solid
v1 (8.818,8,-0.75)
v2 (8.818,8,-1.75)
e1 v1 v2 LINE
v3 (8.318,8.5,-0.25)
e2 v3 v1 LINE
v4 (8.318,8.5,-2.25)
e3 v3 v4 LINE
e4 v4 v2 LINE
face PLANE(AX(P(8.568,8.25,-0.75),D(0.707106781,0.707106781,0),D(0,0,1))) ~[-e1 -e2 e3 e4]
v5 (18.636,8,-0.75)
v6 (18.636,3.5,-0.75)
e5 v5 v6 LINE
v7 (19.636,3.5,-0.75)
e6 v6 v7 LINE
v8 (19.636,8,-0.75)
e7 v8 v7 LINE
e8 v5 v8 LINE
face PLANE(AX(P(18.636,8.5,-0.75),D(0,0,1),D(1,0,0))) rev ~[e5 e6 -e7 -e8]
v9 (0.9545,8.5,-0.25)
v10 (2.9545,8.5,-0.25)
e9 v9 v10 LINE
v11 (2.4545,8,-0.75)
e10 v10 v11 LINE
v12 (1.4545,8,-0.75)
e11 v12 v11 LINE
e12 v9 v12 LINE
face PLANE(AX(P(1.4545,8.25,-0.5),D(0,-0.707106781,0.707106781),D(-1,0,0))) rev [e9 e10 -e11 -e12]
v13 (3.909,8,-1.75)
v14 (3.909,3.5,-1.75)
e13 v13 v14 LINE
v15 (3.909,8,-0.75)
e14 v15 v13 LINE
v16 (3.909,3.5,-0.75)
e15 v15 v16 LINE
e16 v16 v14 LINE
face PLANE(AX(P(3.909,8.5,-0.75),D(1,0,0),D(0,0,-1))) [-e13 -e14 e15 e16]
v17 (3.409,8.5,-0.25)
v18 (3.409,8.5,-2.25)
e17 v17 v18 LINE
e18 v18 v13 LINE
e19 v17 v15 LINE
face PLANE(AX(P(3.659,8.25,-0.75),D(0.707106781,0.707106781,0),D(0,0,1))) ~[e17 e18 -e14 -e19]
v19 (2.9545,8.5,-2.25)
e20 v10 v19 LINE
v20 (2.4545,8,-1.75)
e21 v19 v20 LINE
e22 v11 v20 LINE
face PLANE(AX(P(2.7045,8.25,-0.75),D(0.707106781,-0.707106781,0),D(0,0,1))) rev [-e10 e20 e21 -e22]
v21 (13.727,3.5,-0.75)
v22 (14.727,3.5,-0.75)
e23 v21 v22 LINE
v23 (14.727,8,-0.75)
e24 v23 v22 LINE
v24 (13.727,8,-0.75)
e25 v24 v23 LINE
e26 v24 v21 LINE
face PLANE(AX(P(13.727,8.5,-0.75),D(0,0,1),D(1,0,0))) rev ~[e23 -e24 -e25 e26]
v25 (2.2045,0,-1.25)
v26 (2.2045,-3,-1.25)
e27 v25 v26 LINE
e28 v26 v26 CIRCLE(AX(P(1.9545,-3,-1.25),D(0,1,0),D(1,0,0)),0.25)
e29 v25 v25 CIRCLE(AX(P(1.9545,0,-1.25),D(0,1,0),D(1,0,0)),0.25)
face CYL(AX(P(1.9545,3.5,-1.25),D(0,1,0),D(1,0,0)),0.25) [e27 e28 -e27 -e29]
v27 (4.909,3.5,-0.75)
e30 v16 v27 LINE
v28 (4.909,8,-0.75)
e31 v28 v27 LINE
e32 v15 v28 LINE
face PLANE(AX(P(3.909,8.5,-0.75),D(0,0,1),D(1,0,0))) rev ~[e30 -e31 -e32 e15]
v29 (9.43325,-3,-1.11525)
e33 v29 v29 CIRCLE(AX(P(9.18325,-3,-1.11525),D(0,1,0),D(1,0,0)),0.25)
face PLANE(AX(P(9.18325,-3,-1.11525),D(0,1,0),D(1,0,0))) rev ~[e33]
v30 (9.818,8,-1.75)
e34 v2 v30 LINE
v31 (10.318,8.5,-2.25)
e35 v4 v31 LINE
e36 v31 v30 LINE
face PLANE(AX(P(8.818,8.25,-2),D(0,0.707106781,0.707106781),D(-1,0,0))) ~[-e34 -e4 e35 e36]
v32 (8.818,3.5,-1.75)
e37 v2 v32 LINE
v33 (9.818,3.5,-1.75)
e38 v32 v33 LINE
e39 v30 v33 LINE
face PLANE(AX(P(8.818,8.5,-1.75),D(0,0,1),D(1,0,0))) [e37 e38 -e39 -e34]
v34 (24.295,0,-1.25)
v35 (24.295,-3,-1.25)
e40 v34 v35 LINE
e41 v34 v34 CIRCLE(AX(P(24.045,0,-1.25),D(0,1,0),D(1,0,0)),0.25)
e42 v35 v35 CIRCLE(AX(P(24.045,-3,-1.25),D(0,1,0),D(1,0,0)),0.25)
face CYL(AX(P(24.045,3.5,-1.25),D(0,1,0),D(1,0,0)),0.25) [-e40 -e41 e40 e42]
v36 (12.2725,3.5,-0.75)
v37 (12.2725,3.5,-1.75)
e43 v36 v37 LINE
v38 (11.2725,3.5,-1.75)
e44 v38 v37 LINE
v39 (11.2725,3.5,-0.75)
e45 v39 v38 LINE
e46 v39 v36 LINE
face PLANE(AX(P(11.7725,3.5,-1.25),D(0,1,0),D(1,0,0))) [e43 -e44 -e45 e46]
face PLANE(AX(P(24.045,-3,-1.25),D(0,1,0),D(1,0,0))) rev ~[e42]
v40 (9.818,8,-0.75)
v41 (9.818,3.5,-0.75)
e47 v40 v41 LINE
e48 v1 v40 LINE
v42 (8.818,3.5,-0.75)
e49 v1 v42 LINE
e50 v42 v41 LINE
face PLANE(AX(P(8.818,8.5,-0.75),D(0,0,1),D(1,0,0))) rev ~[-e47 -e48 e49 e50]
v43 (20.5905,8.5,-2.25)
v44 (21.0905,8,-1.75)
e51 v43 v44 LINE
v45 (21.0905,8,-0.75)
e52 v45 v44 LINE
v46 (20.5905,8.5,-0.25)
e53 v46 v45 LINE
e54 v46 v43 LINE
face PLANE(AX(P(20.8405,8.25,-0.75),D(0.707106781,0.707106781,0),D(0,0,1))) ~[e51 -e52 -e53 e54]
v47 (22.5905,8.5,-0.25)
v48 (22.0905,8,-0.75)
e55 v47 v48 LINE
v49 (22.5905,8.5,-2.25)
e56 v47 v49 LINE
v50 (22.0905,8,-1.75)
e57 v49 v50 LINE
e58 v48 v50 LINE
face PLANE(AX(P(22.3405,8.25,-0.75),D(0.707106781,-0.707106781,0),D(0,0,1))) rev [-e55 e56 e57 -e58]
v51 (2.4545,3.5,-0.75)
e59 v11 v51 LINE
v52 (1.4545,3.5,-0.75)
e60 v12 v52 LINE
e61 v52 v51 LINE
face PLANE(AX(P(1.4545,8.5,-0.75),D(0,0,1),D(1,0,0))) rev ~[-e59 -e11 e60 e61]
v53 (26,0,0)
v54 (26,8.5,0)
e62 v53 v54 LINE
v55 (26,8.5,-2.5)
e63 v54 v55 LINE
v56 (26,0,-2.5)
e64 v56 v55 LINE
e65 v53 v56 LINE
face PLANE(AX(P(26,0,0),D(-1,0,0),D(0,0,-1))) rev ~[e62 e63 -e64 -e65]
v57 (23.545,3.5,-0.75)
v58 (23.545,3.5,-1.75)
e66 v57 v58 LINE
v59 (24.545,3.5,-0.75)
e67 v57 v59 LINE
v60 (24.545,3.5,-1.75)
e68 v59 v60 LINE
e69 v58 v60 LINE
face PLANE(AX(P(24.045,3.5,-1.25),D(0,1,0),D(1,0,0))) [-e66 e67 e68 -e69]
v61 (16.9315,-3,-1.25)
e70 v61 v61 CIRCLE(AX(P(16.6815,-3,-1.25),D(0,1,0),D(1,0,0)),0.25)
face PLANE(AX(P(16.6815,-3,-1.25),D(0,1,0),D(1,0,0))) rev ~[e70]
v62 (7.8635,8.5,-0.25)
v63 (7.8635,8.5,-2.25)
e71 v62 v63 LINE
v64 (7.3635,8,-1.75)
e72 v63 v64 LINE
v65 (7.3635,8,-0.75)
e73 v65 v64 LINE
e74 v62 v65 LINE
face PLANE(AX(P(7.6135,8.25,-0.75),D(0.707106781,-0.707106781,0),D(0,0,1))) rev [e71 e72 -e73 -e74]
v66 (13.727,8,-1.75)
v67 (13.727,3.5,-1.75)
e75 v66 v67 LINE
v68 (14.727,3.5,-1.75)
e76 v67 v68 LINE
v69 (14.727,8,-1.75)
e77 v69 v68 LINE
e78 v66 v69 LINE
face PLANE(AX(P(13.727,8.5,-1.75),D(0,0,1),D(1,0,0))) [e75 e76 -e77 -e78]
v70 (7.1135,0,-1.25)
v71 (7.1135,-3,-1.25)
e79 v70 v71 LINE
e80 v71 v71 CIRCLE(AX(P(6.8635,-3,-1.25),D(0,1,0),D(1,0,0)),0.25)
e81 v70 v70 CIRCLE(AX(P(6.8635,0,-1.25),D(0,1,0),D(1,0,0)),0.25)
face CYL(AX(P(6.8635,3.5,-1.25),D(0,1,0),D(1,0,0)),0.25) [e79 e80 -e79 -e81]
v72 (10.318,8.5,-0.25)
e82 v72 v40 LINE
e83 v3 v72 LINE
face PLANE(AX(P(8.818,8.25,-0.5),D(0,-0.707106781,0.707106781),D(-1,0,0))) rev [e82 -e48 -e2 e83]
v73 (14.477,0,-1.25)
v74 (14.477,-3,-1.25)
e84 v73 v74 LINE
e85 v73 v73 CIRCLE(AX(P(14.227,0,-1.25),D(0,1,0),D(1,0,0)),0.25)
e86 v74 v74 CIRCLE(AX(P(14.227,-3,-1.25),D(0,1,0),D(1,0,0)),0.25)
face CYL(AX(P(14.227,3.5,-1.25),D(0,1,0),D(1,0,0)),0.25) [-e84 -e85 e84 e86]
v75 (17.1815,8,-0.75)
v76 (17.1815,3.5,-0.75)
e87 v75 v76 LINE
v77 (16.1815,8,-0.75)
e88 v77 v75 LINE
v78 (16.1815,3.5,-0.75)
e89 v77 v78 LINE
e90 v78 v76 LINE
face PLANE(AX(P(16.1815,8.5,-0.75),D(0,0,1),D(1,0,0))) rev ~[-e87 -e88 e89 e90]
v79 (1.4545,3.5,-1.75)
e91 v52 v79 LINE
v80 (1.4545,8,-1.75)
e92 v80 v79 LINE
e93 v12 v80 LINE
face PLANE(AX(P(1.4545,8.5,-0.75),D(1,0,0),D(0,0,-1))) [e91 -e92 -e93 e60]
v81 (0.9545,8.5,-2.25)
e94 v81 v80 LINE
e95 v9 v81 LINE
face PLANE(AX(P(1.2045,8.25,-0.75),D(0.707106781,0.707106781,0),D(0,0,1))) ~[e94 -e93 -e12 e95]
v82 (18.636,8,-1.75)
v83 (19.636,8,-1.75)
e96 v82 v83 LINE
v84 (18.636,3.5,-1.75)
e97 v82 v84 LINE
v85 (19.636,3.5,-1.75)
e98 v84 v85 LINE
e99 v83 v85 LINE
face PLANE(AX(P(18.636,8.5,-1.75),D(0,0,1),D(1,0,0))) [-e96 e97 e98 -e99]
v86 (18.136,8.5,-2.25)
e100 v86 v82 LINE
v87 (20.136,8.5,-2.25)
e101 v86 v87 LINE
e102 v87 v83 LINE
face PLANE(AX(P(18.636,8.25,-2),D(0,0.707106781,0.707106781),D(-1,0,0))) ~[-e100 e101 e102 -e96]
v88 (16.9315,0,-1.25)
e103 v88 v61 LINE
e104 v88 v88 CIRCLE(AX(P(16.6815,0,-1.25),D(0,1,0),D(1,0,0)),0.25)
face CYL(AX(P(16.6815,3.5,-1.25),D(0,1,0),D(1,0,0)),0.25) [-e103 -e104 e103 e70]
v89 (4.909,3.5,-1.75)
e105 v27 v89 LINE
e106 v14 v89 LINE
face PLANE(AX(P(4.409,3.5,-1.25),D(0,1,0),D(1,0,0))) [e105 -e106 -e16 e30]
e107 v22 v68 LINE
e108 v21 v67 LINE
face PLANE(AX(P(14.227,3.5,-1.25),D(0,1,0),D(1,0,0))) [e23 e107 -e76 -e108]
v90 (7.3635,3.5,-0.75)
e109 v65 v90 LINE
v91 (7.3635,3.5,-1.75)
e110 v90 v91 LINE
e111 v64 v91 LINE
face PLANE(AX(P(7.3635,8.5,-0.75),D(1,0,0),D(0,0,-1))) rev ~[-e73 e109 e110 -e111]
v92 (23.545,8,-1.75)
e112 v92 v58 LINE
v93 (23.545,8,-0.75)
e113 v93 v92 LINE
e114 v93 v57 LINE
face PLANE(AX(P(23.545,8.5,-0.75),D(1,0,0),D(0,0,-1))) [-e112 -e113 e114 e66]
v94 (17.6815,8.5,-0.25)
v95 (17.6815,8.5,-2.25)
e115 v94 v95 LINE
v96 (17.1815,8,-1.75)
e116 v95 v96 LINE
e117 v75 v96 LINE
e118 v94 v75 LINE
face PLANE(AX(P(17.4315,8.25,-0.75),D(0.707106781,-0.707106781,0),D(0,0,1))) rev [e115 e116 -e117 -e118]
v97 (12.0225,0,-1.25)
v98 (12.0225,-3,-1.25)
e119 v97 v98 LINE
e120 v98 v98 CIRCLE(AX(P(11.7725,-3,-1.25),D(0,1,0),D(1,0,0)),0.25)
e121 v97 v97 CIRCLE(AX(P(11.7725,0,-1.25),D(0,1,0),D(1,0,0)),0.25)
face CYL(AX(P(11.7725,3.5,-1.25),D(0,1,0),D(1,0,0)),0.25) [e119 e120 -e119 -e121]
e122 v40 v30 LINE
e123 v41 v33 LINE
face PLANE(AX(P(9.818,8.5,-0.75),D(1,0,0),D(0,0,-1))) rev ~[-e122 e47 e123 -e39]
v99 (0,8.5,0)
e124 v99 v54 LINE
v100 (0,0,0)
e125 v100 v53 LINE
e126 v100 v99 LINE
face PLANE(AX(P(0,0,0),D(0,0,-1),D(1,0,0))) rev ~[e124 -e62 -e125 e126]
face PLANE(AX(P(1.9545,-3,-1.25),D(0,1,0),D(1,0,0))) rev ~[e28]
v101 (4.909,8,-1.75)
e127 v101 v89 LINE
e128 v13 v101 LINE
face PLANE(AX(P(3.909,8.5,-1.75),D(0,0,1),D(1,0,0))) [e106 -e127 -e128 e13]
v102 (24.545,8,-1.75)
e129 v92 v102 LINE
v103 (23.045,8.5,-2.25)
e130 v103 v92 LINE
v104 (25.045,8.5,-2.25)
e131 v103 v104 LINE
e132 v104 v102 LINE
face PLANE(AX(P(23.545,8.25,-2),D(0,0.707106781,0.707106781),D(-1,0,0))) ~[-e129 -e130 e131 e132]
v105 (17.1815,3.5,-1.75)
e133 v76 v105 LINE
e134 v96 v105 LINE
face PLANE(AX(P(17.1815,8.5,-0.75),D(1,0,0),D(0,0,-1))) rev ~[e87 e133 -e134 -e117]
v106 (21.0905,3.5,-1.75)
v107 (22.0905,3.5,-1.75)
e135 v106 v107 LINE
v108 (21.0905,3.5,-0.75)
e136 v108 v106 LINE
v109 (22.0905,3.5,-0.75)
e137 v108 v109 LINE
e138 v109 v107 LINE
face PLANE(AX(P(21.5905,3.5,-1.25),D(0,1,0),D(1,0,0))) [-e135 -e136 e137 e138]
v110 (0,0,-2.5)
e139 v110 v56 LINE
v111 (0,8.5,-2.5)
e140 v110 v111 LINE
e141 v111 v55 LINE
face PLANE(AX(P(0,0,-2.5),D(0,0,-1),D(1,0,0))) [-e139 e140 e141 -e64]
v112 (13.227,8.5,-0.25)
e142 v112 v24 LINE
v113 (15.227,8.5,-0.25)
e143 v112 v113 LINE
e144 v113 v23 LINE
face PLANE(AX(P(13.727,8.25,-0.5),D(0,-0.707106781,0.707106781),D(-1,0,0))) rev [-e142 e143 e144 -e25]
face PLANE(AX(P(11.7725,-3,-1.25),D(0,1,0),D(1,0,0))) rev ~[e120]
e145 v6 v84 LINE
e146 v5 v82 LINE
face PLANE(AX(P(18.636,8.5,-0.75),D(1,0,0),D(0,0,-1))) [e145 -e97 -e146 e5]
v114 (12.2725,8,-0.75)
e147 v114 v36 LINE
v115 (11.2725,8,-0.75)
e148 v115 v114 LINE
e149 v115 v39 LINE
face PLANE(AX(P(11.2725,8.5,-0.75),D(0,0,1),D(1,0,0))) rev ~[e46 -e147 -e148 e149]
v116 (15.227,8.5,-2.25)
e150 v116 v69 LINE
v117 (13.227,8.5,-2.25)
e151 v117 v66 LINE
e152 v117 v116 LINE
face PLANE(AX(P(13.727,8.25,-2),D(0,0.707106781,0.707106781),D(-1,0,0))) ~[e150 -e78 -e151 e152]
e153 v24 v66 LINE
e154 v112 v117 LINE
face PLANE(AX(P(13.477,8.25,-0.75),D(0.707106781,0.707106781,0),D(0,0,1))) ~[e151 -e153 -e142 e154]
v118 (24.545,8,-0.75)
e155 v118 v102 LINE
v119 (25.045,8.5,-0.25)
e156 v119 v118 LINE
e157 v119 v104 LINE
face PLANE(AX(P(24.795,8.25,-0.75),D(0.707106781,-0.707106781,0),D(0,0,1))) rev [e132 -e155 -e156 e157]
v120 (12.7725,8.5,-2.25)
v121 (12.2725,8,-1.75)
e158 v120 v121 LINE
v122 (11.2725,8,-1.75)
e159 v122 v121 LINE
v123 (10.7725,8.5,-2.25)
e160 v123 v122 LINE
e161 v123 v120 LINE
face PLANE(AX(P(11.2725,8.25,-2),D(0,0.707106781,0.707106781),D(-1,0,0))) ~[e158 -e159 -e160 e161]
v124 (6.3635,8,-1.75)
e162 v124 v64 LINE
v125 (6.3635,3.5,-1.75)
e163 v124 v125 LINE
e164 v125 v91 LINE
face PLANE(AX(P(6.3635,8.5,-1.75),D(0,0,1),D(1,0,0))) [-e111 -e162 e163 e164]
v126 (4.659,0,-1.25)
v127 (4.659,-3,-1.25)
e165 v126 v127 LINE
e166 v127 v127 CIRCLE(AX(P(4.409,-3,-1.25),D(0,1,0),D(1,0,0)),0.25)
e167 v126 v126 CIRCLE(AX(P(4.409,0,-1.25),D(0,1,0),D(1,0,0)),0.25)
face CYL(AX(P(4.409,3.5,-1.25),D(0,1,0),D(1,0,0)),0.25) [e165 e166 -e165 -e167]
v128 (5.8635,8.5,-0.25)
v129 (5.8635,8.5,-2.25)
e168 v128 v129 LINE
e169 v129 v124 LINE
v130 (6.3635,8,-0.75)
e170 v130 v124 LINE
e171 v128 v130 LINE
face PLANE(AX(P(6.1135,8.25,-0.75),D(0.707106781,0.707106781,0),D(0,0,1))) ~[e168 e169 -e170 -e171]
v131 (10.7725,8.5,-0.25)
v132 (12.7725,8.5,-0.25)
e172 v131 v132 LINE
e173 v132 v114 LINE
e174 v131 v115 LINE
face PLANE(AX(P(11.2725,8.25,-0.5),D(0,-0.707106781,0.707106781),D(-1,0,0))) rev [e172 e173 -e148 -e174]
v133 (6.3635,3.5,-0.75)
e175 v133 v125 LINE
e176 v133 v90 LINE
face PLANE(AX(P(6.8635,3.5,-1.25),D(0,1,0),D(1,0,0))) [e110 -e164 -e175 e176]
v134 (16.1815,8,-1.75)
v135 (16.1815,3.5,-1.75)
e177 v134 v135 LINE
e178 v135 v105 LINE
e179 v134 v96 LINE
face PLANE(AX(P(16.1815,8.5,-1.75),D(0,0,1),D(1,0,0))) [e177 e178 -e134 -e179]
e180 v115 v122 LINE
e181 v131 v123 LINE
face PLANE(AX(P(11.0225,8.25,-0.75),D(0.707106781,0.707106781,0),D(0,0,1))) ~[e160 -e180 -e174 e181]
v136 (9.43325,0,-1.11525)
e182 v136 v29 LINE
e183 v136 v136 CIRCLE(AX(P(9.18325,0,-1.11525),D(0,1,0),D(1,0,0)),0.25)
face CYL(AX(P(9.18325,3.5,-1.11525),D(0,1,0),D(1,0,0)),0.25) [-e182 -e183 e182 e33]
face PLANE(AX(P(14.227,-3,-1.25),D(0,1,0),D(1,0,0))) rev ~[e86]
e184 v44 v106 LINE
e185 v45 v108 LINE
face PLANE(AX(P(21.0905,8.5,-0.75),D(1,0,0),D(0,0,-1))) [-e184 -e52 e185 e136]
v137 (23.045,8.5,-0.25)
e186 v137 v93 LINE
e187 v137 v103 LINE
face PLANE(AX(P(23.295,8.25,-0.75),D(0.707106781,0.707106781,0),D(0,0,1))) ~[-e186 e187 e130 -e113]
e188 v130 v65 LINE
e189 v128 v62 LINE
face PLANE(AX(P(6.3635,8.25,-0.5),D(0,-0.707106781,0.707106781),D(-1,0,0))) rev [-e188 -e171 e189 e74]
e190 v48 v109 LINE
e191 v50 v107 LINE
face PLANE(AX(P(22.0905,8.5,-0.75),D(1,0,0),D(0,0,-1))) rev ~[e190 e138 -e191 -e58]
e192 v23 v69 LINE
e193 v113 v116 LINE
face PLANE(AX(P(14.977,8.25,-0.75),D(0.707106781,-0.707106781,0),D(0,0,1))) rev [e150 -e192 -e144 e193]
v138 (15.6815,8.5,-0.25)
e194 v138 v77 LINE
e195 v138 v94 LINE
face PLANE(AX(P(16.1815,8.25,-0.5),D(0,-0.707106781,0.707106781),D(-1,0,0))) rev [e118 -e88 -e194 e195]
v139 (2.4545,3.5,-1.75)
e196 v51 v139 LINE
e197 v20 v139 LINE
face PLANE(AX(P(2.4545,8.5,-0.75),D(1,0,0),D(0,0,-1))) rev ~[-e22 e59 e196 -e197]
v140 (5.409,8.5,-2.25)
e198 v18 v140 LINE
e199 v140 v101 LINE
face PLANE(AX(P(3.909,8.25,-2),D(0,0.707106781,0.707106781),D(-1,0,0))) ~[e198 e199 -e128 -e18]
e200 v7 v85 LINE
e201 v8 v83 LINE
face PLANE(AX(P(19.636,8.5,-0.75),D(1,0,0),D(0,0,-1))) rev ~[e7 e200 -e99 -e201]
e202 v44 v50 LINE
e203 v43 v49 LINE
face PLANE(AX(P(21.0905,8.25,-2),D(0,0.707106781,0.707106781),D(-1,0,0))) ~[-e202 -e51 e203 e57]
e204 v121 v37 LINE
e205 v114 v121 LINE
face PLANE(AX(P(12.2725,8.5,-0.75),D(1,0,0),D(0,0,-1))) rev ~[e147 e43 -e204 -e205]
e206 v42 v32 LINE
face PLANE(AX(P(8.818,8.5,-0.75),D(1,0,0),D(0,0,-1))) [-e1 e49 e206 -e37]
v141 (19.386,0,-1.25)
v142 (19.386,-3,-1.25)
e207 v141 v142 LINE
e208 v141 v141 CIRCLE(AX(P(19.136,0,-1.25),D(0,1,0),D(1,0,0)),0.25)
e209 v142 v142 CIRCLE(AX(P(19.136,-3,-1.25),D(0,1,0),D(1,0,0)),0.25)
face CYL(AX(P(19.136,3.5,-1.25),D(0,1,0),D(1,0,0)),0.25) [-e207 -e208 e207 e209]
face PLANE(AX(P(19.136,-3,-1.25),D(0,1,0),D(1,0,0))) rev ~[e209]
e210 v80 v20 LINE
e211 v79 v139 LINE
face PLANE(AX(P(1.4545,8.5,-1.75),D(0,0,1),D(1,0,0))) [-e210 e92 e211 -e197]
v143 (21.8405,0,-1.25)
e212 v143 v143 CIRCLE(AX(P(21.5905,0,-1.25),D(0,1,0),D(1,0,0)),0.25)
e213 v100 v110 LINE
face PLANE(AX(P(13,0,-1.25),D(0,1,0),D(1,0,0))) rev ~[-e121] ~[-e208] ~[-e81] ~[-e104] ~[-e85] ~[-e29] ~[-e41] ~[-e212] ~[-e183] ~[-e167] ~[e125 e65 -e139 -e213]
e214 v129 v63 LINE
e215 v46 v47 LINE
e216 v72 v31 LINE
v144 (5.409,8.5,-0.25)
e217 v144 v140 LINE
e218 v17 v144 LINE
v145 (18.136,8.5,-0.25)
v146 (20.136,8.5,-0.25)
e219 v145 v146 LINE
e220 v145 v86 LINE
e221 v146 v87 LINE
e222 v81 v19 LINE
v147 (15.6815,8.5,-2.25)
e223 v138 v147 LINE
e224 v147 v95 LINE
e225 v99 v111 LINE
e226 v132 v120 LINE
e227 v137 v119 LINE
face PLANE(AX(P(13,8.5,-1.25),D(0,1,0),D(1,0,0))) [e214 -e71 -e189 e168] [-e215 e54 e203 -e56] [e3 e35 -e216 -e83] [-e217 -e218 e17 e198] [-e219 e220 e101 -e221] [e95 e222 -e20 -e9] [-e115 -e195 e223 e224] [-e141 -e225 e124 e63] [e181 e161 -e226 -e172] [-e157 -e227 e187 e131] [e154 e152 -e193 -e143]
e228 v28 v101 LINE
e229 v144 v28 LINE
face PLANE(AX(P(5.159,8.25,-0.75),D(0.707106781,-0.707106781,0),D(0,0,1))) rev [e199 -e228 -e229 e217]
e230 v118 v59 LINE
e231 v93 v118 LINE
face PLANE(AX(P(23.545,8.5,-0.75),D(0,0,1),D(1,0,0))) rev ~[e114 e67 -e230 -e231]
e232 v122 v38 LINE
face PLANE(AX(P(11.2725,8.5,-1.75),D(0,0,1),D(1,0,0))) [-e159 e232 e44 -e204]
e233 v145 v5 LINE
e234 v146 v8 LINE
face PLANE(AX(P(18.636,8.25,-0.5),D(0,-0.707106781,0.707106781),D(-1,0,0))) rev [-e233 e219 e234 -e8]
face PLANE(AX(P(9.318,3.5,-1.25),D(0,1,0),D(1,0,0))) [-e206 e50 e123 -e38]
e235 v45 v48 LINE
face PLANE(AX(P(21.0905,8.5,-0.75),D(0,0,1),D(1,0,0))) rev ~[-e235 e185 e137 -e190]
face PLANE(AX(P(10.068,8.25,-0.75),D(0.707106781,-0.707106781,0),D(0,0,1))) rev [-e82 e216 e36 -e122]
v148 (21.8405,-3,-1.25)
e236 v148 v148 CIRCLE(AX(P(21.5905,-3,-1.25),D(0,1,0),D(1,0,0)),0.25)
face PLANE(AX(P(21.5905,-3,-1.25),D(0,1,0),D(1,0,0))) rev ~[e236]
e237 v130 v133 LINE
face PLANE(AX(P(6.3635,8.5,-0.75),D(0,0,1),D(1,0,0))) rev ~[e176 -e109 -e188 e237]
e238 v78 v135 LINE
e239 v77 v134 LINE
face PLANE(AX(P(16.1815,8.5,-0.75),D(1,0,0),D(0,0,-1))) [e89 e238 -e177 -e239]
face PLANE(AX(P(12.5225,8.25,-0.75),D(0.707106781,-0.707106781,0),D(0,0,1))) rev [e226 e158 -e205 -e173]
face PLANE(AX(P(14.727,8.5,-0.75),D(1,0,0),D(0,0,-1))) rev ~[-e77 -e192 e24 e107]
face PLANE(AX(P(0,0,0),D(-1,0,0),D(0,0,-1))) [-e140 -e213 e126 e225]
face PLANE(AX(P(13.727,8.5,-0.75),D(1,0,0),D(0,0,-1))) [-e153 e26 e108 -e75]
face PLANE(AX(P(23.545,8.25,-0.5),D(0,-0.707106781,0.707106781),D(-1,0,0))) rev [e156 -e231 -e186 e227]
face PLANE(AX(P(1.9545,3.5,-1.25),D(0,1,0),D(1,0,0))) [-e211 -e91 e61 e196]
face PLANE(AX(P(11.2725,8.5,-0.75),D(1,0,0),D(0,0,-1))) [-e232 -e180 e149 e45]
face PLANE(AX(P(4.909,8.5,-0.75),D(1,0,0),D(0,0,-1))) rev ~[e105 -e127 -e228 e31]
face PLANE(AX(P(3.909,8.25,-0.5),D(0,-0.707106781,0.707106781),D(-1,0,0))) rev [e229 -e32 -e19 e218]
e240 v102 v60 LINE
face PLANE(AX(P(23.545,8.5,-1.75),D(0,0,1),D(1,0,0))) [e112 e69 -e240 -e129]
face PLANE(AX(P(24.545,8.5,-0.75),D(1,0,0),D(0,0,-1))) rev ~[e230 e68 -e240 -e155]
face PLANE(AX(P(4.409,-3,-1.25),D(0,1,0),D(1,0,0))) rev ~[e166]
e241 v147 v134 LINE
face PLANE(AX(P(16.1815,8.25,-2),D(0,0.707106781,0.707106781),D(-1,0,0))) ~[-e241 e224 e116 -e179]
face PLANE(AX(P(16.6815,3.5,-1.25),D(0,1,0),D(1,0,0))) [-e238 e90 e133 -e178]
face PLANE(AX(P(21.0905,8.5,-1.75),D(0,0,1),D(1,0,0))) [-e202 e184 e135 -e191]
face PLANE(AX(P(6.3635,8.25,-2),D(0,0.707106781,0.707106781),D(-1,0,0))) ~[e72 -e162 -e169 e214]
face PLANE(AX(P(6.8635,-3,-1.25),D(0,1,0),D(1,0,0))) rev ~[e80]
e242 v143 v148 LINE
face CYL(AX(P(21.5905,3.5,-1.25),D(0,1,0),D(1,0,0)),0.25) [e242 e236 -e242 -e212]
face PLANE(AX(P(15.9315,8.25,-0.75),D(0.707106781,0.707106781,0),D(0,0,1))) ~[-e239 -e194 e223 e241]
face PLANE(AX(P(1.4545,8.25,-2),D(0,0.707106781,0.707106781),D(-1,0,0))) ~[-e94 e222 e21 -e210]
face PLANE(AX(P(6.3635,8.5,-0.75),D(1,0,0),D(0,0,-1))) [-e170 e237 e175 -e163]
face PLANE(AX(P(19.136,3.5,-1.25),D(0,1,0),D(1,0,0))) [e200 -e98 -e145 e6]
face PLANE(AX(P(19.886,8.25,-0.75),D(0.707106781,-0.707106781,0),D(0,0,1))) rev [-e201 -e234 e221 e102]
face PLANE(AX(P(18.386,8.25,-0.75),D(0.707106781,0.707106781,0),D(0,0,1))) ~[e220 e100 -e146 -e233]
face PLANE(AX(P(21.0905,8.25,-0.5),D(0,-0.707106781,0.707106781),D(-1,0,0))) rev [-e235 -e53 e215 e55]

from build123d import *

# Parameters (mm, degrees)
SKETCH1_W           = 26
SKETCH1_H           = 2.5
BOSS_EXTRUDE1_DEPTH = 8.5
SKETCH2_W           = 1
SKETCH2_H           = 1
CUT_EXTRUDE1_DEPTH  = 5
CHAMFER1_SIZE       = 0.5
SKETCH3_R           = 0.25
BOSS_EXTRUDE2_DEPTH = 6.5


with BuildPart() as part:
    # Sketch1 → Boss-Extrude1 (new body)
    with BuildSketch(Plane(origin=(0, 0, 0), x_dir=(1, 0, 0), z_dir=(0, 1, 0))):
        with Locations((13, 1.25)):
            Rectangle(SKETCH1_W, SKETCH1_H)
    extrude(amount=BOSS_EXTRUDE1_DEPTH)

    # Sketch2 → Cut-Extrude1 (cut)
    with BuildSketch(Plane(origin=(0, 8.5, 0), x_dir=(1, 0, 0), z_dir=(0, 1, 0))):
        with Locations((1.9545, 1.25)):
            Rectangle(SKETCH2_W, SKETCH2_H)
        with Locations((4.409, 1.25)):
            Rectangle(SKETCH2_W, SKETCH2_H)
        with Locations((6.8635, 1.25)):
            Rectangle(SKETCH2_W, SKETCH2_H)
        with Locations((9.318, 1.25)):
            Rectangle(SKETCH2_W, SKETCH2_H)
        with Locations((11.7725, 1.25)):
            Rectangle(SKETCH2_W, SKETCH2_H)
        with Locations((14.227, 1.25)):
            Rectangle(SKETCH2_W, SKETCH2_H)
        with Locations((16.6815, 1.25)):
            Rectangle(SKETCH2_W, SKETCH2_H)
        with Locations((19.136, 1.25)):
            Rectangle(SKETCH2_W, SKETCH2_H)
        with Locations((21.5905, 1.25)):
            Rectangle(SKETCH2_W, SKETCH2_H)
        with Locations((24.045, 1.25)):
            Rectangle(SKETCH2_W, SKETCH2_H)
    extrude(amount=-CUT_EXTRUDE1_DEPTH, mode=Mode.SUBTRACT)

    # Chamfer1
    chamfer1_edges = [part.edges().sort_by_distance(p)[0] for p in [
        (21.0905, 8.5, -1.25),
        (21.5905, 8.5, -0.75),
        (22.0905, 8.5, -1.25),
        (21.5905, 8.5, -1.75),
        (23.545, 8.5, -1.25),
        (24.045, 8.5, -0.75),
        (24.545, 8.5, -1.25),
        (24.045, 8.5, -1.75),
        (1.4545, 8.5, -1.25),
        (1.9545, 8.5, -0.75),
        (2.4545, 8.5, -1.25),
        (1.9545, 8.5, -1.75),
        (3.909, 8.5, -1.25),
        (4.409, 8.5, -0.75),
        (4.909, 8.5, -1.25),
        (4.409, 8.5, -1.75),
        (6.3635, 8.5, -1.25),
        (6.8635, 8.5, -0.75),
        (7.3635, 8.5, -1.25),
        (6.8635, 8.5, -1.75),
        (8.818, 8.5, -1.25),
        (9.318, 8.5, -0.75),
        (9.818, 8.5, -1.25),
        (9.318, 8.5, -1.75),
        (11.2725, 8.5, -1.25),
        (11.7725, 8.5, -0.75),
        (12.2725, 8.5, -1.25),
        (11.7725, 8.5, -1.75),
        (13.727, 8.5, -1.25),
        (14.227, 8.5, -0.75),
        (14.727, 8.5, -1.25),
        (14.227, 8.5, -1.75),
        (16.1815, 8.5, -1.25),
        (16.6815, 8.5, -0.75),
        (17.1815, 8.5, -1.25),
        (16.6815, 8.5, -1.75),
        (18.636, 8.5, -1.25),
        (19.136, 8.5, -0.75),
        (19.636, 8.5, -1.25),
        (19.136, 8.5, -1.75),
    ]]
    chamfer(chamfer1_edges, length=CHAMFER1_SIZE)

    # Sketch3 → Boss-Extrude2 (add)
    with BuildSketch(Plane(origin=(0, 3.5, 0), x_dir=(1, 0, 0), z_dir=(0, 1, 0))):
        with Locations((1.9545, 1.25)):
            Circle(SKETCH3_R)
        with Locations((4.409, 1.25)):
            Circle(SKETCH3_R)
        with Locations((6.8635, 1.25)):
            Circle(SKETCH3_R)
        with Locations((9.183250215, 1.115250215)):
            Circle(SKETCH3_R)
        with Locations((11.7725, 1.25)):
            Circle(SKETCH3_R)
        with Locations((14.227, 1.25)):
            Circle(SKETCH3_R)
        with Locations((16.6815, 1.25)):
            Circle(SKETCH3_R)
        with Locations((19.136, 1.25)):
            Circle(SKETCH3_R)
        with Locations((21.5905, 1.25)):
            Circle(SKETCH3_R)
        with Locations((24.045, 1.25)):
            Circle(SKETCH3_R)
    extrude(amount=-BOSS_EXTRUDE2_DEPTH)


solid = part.part
